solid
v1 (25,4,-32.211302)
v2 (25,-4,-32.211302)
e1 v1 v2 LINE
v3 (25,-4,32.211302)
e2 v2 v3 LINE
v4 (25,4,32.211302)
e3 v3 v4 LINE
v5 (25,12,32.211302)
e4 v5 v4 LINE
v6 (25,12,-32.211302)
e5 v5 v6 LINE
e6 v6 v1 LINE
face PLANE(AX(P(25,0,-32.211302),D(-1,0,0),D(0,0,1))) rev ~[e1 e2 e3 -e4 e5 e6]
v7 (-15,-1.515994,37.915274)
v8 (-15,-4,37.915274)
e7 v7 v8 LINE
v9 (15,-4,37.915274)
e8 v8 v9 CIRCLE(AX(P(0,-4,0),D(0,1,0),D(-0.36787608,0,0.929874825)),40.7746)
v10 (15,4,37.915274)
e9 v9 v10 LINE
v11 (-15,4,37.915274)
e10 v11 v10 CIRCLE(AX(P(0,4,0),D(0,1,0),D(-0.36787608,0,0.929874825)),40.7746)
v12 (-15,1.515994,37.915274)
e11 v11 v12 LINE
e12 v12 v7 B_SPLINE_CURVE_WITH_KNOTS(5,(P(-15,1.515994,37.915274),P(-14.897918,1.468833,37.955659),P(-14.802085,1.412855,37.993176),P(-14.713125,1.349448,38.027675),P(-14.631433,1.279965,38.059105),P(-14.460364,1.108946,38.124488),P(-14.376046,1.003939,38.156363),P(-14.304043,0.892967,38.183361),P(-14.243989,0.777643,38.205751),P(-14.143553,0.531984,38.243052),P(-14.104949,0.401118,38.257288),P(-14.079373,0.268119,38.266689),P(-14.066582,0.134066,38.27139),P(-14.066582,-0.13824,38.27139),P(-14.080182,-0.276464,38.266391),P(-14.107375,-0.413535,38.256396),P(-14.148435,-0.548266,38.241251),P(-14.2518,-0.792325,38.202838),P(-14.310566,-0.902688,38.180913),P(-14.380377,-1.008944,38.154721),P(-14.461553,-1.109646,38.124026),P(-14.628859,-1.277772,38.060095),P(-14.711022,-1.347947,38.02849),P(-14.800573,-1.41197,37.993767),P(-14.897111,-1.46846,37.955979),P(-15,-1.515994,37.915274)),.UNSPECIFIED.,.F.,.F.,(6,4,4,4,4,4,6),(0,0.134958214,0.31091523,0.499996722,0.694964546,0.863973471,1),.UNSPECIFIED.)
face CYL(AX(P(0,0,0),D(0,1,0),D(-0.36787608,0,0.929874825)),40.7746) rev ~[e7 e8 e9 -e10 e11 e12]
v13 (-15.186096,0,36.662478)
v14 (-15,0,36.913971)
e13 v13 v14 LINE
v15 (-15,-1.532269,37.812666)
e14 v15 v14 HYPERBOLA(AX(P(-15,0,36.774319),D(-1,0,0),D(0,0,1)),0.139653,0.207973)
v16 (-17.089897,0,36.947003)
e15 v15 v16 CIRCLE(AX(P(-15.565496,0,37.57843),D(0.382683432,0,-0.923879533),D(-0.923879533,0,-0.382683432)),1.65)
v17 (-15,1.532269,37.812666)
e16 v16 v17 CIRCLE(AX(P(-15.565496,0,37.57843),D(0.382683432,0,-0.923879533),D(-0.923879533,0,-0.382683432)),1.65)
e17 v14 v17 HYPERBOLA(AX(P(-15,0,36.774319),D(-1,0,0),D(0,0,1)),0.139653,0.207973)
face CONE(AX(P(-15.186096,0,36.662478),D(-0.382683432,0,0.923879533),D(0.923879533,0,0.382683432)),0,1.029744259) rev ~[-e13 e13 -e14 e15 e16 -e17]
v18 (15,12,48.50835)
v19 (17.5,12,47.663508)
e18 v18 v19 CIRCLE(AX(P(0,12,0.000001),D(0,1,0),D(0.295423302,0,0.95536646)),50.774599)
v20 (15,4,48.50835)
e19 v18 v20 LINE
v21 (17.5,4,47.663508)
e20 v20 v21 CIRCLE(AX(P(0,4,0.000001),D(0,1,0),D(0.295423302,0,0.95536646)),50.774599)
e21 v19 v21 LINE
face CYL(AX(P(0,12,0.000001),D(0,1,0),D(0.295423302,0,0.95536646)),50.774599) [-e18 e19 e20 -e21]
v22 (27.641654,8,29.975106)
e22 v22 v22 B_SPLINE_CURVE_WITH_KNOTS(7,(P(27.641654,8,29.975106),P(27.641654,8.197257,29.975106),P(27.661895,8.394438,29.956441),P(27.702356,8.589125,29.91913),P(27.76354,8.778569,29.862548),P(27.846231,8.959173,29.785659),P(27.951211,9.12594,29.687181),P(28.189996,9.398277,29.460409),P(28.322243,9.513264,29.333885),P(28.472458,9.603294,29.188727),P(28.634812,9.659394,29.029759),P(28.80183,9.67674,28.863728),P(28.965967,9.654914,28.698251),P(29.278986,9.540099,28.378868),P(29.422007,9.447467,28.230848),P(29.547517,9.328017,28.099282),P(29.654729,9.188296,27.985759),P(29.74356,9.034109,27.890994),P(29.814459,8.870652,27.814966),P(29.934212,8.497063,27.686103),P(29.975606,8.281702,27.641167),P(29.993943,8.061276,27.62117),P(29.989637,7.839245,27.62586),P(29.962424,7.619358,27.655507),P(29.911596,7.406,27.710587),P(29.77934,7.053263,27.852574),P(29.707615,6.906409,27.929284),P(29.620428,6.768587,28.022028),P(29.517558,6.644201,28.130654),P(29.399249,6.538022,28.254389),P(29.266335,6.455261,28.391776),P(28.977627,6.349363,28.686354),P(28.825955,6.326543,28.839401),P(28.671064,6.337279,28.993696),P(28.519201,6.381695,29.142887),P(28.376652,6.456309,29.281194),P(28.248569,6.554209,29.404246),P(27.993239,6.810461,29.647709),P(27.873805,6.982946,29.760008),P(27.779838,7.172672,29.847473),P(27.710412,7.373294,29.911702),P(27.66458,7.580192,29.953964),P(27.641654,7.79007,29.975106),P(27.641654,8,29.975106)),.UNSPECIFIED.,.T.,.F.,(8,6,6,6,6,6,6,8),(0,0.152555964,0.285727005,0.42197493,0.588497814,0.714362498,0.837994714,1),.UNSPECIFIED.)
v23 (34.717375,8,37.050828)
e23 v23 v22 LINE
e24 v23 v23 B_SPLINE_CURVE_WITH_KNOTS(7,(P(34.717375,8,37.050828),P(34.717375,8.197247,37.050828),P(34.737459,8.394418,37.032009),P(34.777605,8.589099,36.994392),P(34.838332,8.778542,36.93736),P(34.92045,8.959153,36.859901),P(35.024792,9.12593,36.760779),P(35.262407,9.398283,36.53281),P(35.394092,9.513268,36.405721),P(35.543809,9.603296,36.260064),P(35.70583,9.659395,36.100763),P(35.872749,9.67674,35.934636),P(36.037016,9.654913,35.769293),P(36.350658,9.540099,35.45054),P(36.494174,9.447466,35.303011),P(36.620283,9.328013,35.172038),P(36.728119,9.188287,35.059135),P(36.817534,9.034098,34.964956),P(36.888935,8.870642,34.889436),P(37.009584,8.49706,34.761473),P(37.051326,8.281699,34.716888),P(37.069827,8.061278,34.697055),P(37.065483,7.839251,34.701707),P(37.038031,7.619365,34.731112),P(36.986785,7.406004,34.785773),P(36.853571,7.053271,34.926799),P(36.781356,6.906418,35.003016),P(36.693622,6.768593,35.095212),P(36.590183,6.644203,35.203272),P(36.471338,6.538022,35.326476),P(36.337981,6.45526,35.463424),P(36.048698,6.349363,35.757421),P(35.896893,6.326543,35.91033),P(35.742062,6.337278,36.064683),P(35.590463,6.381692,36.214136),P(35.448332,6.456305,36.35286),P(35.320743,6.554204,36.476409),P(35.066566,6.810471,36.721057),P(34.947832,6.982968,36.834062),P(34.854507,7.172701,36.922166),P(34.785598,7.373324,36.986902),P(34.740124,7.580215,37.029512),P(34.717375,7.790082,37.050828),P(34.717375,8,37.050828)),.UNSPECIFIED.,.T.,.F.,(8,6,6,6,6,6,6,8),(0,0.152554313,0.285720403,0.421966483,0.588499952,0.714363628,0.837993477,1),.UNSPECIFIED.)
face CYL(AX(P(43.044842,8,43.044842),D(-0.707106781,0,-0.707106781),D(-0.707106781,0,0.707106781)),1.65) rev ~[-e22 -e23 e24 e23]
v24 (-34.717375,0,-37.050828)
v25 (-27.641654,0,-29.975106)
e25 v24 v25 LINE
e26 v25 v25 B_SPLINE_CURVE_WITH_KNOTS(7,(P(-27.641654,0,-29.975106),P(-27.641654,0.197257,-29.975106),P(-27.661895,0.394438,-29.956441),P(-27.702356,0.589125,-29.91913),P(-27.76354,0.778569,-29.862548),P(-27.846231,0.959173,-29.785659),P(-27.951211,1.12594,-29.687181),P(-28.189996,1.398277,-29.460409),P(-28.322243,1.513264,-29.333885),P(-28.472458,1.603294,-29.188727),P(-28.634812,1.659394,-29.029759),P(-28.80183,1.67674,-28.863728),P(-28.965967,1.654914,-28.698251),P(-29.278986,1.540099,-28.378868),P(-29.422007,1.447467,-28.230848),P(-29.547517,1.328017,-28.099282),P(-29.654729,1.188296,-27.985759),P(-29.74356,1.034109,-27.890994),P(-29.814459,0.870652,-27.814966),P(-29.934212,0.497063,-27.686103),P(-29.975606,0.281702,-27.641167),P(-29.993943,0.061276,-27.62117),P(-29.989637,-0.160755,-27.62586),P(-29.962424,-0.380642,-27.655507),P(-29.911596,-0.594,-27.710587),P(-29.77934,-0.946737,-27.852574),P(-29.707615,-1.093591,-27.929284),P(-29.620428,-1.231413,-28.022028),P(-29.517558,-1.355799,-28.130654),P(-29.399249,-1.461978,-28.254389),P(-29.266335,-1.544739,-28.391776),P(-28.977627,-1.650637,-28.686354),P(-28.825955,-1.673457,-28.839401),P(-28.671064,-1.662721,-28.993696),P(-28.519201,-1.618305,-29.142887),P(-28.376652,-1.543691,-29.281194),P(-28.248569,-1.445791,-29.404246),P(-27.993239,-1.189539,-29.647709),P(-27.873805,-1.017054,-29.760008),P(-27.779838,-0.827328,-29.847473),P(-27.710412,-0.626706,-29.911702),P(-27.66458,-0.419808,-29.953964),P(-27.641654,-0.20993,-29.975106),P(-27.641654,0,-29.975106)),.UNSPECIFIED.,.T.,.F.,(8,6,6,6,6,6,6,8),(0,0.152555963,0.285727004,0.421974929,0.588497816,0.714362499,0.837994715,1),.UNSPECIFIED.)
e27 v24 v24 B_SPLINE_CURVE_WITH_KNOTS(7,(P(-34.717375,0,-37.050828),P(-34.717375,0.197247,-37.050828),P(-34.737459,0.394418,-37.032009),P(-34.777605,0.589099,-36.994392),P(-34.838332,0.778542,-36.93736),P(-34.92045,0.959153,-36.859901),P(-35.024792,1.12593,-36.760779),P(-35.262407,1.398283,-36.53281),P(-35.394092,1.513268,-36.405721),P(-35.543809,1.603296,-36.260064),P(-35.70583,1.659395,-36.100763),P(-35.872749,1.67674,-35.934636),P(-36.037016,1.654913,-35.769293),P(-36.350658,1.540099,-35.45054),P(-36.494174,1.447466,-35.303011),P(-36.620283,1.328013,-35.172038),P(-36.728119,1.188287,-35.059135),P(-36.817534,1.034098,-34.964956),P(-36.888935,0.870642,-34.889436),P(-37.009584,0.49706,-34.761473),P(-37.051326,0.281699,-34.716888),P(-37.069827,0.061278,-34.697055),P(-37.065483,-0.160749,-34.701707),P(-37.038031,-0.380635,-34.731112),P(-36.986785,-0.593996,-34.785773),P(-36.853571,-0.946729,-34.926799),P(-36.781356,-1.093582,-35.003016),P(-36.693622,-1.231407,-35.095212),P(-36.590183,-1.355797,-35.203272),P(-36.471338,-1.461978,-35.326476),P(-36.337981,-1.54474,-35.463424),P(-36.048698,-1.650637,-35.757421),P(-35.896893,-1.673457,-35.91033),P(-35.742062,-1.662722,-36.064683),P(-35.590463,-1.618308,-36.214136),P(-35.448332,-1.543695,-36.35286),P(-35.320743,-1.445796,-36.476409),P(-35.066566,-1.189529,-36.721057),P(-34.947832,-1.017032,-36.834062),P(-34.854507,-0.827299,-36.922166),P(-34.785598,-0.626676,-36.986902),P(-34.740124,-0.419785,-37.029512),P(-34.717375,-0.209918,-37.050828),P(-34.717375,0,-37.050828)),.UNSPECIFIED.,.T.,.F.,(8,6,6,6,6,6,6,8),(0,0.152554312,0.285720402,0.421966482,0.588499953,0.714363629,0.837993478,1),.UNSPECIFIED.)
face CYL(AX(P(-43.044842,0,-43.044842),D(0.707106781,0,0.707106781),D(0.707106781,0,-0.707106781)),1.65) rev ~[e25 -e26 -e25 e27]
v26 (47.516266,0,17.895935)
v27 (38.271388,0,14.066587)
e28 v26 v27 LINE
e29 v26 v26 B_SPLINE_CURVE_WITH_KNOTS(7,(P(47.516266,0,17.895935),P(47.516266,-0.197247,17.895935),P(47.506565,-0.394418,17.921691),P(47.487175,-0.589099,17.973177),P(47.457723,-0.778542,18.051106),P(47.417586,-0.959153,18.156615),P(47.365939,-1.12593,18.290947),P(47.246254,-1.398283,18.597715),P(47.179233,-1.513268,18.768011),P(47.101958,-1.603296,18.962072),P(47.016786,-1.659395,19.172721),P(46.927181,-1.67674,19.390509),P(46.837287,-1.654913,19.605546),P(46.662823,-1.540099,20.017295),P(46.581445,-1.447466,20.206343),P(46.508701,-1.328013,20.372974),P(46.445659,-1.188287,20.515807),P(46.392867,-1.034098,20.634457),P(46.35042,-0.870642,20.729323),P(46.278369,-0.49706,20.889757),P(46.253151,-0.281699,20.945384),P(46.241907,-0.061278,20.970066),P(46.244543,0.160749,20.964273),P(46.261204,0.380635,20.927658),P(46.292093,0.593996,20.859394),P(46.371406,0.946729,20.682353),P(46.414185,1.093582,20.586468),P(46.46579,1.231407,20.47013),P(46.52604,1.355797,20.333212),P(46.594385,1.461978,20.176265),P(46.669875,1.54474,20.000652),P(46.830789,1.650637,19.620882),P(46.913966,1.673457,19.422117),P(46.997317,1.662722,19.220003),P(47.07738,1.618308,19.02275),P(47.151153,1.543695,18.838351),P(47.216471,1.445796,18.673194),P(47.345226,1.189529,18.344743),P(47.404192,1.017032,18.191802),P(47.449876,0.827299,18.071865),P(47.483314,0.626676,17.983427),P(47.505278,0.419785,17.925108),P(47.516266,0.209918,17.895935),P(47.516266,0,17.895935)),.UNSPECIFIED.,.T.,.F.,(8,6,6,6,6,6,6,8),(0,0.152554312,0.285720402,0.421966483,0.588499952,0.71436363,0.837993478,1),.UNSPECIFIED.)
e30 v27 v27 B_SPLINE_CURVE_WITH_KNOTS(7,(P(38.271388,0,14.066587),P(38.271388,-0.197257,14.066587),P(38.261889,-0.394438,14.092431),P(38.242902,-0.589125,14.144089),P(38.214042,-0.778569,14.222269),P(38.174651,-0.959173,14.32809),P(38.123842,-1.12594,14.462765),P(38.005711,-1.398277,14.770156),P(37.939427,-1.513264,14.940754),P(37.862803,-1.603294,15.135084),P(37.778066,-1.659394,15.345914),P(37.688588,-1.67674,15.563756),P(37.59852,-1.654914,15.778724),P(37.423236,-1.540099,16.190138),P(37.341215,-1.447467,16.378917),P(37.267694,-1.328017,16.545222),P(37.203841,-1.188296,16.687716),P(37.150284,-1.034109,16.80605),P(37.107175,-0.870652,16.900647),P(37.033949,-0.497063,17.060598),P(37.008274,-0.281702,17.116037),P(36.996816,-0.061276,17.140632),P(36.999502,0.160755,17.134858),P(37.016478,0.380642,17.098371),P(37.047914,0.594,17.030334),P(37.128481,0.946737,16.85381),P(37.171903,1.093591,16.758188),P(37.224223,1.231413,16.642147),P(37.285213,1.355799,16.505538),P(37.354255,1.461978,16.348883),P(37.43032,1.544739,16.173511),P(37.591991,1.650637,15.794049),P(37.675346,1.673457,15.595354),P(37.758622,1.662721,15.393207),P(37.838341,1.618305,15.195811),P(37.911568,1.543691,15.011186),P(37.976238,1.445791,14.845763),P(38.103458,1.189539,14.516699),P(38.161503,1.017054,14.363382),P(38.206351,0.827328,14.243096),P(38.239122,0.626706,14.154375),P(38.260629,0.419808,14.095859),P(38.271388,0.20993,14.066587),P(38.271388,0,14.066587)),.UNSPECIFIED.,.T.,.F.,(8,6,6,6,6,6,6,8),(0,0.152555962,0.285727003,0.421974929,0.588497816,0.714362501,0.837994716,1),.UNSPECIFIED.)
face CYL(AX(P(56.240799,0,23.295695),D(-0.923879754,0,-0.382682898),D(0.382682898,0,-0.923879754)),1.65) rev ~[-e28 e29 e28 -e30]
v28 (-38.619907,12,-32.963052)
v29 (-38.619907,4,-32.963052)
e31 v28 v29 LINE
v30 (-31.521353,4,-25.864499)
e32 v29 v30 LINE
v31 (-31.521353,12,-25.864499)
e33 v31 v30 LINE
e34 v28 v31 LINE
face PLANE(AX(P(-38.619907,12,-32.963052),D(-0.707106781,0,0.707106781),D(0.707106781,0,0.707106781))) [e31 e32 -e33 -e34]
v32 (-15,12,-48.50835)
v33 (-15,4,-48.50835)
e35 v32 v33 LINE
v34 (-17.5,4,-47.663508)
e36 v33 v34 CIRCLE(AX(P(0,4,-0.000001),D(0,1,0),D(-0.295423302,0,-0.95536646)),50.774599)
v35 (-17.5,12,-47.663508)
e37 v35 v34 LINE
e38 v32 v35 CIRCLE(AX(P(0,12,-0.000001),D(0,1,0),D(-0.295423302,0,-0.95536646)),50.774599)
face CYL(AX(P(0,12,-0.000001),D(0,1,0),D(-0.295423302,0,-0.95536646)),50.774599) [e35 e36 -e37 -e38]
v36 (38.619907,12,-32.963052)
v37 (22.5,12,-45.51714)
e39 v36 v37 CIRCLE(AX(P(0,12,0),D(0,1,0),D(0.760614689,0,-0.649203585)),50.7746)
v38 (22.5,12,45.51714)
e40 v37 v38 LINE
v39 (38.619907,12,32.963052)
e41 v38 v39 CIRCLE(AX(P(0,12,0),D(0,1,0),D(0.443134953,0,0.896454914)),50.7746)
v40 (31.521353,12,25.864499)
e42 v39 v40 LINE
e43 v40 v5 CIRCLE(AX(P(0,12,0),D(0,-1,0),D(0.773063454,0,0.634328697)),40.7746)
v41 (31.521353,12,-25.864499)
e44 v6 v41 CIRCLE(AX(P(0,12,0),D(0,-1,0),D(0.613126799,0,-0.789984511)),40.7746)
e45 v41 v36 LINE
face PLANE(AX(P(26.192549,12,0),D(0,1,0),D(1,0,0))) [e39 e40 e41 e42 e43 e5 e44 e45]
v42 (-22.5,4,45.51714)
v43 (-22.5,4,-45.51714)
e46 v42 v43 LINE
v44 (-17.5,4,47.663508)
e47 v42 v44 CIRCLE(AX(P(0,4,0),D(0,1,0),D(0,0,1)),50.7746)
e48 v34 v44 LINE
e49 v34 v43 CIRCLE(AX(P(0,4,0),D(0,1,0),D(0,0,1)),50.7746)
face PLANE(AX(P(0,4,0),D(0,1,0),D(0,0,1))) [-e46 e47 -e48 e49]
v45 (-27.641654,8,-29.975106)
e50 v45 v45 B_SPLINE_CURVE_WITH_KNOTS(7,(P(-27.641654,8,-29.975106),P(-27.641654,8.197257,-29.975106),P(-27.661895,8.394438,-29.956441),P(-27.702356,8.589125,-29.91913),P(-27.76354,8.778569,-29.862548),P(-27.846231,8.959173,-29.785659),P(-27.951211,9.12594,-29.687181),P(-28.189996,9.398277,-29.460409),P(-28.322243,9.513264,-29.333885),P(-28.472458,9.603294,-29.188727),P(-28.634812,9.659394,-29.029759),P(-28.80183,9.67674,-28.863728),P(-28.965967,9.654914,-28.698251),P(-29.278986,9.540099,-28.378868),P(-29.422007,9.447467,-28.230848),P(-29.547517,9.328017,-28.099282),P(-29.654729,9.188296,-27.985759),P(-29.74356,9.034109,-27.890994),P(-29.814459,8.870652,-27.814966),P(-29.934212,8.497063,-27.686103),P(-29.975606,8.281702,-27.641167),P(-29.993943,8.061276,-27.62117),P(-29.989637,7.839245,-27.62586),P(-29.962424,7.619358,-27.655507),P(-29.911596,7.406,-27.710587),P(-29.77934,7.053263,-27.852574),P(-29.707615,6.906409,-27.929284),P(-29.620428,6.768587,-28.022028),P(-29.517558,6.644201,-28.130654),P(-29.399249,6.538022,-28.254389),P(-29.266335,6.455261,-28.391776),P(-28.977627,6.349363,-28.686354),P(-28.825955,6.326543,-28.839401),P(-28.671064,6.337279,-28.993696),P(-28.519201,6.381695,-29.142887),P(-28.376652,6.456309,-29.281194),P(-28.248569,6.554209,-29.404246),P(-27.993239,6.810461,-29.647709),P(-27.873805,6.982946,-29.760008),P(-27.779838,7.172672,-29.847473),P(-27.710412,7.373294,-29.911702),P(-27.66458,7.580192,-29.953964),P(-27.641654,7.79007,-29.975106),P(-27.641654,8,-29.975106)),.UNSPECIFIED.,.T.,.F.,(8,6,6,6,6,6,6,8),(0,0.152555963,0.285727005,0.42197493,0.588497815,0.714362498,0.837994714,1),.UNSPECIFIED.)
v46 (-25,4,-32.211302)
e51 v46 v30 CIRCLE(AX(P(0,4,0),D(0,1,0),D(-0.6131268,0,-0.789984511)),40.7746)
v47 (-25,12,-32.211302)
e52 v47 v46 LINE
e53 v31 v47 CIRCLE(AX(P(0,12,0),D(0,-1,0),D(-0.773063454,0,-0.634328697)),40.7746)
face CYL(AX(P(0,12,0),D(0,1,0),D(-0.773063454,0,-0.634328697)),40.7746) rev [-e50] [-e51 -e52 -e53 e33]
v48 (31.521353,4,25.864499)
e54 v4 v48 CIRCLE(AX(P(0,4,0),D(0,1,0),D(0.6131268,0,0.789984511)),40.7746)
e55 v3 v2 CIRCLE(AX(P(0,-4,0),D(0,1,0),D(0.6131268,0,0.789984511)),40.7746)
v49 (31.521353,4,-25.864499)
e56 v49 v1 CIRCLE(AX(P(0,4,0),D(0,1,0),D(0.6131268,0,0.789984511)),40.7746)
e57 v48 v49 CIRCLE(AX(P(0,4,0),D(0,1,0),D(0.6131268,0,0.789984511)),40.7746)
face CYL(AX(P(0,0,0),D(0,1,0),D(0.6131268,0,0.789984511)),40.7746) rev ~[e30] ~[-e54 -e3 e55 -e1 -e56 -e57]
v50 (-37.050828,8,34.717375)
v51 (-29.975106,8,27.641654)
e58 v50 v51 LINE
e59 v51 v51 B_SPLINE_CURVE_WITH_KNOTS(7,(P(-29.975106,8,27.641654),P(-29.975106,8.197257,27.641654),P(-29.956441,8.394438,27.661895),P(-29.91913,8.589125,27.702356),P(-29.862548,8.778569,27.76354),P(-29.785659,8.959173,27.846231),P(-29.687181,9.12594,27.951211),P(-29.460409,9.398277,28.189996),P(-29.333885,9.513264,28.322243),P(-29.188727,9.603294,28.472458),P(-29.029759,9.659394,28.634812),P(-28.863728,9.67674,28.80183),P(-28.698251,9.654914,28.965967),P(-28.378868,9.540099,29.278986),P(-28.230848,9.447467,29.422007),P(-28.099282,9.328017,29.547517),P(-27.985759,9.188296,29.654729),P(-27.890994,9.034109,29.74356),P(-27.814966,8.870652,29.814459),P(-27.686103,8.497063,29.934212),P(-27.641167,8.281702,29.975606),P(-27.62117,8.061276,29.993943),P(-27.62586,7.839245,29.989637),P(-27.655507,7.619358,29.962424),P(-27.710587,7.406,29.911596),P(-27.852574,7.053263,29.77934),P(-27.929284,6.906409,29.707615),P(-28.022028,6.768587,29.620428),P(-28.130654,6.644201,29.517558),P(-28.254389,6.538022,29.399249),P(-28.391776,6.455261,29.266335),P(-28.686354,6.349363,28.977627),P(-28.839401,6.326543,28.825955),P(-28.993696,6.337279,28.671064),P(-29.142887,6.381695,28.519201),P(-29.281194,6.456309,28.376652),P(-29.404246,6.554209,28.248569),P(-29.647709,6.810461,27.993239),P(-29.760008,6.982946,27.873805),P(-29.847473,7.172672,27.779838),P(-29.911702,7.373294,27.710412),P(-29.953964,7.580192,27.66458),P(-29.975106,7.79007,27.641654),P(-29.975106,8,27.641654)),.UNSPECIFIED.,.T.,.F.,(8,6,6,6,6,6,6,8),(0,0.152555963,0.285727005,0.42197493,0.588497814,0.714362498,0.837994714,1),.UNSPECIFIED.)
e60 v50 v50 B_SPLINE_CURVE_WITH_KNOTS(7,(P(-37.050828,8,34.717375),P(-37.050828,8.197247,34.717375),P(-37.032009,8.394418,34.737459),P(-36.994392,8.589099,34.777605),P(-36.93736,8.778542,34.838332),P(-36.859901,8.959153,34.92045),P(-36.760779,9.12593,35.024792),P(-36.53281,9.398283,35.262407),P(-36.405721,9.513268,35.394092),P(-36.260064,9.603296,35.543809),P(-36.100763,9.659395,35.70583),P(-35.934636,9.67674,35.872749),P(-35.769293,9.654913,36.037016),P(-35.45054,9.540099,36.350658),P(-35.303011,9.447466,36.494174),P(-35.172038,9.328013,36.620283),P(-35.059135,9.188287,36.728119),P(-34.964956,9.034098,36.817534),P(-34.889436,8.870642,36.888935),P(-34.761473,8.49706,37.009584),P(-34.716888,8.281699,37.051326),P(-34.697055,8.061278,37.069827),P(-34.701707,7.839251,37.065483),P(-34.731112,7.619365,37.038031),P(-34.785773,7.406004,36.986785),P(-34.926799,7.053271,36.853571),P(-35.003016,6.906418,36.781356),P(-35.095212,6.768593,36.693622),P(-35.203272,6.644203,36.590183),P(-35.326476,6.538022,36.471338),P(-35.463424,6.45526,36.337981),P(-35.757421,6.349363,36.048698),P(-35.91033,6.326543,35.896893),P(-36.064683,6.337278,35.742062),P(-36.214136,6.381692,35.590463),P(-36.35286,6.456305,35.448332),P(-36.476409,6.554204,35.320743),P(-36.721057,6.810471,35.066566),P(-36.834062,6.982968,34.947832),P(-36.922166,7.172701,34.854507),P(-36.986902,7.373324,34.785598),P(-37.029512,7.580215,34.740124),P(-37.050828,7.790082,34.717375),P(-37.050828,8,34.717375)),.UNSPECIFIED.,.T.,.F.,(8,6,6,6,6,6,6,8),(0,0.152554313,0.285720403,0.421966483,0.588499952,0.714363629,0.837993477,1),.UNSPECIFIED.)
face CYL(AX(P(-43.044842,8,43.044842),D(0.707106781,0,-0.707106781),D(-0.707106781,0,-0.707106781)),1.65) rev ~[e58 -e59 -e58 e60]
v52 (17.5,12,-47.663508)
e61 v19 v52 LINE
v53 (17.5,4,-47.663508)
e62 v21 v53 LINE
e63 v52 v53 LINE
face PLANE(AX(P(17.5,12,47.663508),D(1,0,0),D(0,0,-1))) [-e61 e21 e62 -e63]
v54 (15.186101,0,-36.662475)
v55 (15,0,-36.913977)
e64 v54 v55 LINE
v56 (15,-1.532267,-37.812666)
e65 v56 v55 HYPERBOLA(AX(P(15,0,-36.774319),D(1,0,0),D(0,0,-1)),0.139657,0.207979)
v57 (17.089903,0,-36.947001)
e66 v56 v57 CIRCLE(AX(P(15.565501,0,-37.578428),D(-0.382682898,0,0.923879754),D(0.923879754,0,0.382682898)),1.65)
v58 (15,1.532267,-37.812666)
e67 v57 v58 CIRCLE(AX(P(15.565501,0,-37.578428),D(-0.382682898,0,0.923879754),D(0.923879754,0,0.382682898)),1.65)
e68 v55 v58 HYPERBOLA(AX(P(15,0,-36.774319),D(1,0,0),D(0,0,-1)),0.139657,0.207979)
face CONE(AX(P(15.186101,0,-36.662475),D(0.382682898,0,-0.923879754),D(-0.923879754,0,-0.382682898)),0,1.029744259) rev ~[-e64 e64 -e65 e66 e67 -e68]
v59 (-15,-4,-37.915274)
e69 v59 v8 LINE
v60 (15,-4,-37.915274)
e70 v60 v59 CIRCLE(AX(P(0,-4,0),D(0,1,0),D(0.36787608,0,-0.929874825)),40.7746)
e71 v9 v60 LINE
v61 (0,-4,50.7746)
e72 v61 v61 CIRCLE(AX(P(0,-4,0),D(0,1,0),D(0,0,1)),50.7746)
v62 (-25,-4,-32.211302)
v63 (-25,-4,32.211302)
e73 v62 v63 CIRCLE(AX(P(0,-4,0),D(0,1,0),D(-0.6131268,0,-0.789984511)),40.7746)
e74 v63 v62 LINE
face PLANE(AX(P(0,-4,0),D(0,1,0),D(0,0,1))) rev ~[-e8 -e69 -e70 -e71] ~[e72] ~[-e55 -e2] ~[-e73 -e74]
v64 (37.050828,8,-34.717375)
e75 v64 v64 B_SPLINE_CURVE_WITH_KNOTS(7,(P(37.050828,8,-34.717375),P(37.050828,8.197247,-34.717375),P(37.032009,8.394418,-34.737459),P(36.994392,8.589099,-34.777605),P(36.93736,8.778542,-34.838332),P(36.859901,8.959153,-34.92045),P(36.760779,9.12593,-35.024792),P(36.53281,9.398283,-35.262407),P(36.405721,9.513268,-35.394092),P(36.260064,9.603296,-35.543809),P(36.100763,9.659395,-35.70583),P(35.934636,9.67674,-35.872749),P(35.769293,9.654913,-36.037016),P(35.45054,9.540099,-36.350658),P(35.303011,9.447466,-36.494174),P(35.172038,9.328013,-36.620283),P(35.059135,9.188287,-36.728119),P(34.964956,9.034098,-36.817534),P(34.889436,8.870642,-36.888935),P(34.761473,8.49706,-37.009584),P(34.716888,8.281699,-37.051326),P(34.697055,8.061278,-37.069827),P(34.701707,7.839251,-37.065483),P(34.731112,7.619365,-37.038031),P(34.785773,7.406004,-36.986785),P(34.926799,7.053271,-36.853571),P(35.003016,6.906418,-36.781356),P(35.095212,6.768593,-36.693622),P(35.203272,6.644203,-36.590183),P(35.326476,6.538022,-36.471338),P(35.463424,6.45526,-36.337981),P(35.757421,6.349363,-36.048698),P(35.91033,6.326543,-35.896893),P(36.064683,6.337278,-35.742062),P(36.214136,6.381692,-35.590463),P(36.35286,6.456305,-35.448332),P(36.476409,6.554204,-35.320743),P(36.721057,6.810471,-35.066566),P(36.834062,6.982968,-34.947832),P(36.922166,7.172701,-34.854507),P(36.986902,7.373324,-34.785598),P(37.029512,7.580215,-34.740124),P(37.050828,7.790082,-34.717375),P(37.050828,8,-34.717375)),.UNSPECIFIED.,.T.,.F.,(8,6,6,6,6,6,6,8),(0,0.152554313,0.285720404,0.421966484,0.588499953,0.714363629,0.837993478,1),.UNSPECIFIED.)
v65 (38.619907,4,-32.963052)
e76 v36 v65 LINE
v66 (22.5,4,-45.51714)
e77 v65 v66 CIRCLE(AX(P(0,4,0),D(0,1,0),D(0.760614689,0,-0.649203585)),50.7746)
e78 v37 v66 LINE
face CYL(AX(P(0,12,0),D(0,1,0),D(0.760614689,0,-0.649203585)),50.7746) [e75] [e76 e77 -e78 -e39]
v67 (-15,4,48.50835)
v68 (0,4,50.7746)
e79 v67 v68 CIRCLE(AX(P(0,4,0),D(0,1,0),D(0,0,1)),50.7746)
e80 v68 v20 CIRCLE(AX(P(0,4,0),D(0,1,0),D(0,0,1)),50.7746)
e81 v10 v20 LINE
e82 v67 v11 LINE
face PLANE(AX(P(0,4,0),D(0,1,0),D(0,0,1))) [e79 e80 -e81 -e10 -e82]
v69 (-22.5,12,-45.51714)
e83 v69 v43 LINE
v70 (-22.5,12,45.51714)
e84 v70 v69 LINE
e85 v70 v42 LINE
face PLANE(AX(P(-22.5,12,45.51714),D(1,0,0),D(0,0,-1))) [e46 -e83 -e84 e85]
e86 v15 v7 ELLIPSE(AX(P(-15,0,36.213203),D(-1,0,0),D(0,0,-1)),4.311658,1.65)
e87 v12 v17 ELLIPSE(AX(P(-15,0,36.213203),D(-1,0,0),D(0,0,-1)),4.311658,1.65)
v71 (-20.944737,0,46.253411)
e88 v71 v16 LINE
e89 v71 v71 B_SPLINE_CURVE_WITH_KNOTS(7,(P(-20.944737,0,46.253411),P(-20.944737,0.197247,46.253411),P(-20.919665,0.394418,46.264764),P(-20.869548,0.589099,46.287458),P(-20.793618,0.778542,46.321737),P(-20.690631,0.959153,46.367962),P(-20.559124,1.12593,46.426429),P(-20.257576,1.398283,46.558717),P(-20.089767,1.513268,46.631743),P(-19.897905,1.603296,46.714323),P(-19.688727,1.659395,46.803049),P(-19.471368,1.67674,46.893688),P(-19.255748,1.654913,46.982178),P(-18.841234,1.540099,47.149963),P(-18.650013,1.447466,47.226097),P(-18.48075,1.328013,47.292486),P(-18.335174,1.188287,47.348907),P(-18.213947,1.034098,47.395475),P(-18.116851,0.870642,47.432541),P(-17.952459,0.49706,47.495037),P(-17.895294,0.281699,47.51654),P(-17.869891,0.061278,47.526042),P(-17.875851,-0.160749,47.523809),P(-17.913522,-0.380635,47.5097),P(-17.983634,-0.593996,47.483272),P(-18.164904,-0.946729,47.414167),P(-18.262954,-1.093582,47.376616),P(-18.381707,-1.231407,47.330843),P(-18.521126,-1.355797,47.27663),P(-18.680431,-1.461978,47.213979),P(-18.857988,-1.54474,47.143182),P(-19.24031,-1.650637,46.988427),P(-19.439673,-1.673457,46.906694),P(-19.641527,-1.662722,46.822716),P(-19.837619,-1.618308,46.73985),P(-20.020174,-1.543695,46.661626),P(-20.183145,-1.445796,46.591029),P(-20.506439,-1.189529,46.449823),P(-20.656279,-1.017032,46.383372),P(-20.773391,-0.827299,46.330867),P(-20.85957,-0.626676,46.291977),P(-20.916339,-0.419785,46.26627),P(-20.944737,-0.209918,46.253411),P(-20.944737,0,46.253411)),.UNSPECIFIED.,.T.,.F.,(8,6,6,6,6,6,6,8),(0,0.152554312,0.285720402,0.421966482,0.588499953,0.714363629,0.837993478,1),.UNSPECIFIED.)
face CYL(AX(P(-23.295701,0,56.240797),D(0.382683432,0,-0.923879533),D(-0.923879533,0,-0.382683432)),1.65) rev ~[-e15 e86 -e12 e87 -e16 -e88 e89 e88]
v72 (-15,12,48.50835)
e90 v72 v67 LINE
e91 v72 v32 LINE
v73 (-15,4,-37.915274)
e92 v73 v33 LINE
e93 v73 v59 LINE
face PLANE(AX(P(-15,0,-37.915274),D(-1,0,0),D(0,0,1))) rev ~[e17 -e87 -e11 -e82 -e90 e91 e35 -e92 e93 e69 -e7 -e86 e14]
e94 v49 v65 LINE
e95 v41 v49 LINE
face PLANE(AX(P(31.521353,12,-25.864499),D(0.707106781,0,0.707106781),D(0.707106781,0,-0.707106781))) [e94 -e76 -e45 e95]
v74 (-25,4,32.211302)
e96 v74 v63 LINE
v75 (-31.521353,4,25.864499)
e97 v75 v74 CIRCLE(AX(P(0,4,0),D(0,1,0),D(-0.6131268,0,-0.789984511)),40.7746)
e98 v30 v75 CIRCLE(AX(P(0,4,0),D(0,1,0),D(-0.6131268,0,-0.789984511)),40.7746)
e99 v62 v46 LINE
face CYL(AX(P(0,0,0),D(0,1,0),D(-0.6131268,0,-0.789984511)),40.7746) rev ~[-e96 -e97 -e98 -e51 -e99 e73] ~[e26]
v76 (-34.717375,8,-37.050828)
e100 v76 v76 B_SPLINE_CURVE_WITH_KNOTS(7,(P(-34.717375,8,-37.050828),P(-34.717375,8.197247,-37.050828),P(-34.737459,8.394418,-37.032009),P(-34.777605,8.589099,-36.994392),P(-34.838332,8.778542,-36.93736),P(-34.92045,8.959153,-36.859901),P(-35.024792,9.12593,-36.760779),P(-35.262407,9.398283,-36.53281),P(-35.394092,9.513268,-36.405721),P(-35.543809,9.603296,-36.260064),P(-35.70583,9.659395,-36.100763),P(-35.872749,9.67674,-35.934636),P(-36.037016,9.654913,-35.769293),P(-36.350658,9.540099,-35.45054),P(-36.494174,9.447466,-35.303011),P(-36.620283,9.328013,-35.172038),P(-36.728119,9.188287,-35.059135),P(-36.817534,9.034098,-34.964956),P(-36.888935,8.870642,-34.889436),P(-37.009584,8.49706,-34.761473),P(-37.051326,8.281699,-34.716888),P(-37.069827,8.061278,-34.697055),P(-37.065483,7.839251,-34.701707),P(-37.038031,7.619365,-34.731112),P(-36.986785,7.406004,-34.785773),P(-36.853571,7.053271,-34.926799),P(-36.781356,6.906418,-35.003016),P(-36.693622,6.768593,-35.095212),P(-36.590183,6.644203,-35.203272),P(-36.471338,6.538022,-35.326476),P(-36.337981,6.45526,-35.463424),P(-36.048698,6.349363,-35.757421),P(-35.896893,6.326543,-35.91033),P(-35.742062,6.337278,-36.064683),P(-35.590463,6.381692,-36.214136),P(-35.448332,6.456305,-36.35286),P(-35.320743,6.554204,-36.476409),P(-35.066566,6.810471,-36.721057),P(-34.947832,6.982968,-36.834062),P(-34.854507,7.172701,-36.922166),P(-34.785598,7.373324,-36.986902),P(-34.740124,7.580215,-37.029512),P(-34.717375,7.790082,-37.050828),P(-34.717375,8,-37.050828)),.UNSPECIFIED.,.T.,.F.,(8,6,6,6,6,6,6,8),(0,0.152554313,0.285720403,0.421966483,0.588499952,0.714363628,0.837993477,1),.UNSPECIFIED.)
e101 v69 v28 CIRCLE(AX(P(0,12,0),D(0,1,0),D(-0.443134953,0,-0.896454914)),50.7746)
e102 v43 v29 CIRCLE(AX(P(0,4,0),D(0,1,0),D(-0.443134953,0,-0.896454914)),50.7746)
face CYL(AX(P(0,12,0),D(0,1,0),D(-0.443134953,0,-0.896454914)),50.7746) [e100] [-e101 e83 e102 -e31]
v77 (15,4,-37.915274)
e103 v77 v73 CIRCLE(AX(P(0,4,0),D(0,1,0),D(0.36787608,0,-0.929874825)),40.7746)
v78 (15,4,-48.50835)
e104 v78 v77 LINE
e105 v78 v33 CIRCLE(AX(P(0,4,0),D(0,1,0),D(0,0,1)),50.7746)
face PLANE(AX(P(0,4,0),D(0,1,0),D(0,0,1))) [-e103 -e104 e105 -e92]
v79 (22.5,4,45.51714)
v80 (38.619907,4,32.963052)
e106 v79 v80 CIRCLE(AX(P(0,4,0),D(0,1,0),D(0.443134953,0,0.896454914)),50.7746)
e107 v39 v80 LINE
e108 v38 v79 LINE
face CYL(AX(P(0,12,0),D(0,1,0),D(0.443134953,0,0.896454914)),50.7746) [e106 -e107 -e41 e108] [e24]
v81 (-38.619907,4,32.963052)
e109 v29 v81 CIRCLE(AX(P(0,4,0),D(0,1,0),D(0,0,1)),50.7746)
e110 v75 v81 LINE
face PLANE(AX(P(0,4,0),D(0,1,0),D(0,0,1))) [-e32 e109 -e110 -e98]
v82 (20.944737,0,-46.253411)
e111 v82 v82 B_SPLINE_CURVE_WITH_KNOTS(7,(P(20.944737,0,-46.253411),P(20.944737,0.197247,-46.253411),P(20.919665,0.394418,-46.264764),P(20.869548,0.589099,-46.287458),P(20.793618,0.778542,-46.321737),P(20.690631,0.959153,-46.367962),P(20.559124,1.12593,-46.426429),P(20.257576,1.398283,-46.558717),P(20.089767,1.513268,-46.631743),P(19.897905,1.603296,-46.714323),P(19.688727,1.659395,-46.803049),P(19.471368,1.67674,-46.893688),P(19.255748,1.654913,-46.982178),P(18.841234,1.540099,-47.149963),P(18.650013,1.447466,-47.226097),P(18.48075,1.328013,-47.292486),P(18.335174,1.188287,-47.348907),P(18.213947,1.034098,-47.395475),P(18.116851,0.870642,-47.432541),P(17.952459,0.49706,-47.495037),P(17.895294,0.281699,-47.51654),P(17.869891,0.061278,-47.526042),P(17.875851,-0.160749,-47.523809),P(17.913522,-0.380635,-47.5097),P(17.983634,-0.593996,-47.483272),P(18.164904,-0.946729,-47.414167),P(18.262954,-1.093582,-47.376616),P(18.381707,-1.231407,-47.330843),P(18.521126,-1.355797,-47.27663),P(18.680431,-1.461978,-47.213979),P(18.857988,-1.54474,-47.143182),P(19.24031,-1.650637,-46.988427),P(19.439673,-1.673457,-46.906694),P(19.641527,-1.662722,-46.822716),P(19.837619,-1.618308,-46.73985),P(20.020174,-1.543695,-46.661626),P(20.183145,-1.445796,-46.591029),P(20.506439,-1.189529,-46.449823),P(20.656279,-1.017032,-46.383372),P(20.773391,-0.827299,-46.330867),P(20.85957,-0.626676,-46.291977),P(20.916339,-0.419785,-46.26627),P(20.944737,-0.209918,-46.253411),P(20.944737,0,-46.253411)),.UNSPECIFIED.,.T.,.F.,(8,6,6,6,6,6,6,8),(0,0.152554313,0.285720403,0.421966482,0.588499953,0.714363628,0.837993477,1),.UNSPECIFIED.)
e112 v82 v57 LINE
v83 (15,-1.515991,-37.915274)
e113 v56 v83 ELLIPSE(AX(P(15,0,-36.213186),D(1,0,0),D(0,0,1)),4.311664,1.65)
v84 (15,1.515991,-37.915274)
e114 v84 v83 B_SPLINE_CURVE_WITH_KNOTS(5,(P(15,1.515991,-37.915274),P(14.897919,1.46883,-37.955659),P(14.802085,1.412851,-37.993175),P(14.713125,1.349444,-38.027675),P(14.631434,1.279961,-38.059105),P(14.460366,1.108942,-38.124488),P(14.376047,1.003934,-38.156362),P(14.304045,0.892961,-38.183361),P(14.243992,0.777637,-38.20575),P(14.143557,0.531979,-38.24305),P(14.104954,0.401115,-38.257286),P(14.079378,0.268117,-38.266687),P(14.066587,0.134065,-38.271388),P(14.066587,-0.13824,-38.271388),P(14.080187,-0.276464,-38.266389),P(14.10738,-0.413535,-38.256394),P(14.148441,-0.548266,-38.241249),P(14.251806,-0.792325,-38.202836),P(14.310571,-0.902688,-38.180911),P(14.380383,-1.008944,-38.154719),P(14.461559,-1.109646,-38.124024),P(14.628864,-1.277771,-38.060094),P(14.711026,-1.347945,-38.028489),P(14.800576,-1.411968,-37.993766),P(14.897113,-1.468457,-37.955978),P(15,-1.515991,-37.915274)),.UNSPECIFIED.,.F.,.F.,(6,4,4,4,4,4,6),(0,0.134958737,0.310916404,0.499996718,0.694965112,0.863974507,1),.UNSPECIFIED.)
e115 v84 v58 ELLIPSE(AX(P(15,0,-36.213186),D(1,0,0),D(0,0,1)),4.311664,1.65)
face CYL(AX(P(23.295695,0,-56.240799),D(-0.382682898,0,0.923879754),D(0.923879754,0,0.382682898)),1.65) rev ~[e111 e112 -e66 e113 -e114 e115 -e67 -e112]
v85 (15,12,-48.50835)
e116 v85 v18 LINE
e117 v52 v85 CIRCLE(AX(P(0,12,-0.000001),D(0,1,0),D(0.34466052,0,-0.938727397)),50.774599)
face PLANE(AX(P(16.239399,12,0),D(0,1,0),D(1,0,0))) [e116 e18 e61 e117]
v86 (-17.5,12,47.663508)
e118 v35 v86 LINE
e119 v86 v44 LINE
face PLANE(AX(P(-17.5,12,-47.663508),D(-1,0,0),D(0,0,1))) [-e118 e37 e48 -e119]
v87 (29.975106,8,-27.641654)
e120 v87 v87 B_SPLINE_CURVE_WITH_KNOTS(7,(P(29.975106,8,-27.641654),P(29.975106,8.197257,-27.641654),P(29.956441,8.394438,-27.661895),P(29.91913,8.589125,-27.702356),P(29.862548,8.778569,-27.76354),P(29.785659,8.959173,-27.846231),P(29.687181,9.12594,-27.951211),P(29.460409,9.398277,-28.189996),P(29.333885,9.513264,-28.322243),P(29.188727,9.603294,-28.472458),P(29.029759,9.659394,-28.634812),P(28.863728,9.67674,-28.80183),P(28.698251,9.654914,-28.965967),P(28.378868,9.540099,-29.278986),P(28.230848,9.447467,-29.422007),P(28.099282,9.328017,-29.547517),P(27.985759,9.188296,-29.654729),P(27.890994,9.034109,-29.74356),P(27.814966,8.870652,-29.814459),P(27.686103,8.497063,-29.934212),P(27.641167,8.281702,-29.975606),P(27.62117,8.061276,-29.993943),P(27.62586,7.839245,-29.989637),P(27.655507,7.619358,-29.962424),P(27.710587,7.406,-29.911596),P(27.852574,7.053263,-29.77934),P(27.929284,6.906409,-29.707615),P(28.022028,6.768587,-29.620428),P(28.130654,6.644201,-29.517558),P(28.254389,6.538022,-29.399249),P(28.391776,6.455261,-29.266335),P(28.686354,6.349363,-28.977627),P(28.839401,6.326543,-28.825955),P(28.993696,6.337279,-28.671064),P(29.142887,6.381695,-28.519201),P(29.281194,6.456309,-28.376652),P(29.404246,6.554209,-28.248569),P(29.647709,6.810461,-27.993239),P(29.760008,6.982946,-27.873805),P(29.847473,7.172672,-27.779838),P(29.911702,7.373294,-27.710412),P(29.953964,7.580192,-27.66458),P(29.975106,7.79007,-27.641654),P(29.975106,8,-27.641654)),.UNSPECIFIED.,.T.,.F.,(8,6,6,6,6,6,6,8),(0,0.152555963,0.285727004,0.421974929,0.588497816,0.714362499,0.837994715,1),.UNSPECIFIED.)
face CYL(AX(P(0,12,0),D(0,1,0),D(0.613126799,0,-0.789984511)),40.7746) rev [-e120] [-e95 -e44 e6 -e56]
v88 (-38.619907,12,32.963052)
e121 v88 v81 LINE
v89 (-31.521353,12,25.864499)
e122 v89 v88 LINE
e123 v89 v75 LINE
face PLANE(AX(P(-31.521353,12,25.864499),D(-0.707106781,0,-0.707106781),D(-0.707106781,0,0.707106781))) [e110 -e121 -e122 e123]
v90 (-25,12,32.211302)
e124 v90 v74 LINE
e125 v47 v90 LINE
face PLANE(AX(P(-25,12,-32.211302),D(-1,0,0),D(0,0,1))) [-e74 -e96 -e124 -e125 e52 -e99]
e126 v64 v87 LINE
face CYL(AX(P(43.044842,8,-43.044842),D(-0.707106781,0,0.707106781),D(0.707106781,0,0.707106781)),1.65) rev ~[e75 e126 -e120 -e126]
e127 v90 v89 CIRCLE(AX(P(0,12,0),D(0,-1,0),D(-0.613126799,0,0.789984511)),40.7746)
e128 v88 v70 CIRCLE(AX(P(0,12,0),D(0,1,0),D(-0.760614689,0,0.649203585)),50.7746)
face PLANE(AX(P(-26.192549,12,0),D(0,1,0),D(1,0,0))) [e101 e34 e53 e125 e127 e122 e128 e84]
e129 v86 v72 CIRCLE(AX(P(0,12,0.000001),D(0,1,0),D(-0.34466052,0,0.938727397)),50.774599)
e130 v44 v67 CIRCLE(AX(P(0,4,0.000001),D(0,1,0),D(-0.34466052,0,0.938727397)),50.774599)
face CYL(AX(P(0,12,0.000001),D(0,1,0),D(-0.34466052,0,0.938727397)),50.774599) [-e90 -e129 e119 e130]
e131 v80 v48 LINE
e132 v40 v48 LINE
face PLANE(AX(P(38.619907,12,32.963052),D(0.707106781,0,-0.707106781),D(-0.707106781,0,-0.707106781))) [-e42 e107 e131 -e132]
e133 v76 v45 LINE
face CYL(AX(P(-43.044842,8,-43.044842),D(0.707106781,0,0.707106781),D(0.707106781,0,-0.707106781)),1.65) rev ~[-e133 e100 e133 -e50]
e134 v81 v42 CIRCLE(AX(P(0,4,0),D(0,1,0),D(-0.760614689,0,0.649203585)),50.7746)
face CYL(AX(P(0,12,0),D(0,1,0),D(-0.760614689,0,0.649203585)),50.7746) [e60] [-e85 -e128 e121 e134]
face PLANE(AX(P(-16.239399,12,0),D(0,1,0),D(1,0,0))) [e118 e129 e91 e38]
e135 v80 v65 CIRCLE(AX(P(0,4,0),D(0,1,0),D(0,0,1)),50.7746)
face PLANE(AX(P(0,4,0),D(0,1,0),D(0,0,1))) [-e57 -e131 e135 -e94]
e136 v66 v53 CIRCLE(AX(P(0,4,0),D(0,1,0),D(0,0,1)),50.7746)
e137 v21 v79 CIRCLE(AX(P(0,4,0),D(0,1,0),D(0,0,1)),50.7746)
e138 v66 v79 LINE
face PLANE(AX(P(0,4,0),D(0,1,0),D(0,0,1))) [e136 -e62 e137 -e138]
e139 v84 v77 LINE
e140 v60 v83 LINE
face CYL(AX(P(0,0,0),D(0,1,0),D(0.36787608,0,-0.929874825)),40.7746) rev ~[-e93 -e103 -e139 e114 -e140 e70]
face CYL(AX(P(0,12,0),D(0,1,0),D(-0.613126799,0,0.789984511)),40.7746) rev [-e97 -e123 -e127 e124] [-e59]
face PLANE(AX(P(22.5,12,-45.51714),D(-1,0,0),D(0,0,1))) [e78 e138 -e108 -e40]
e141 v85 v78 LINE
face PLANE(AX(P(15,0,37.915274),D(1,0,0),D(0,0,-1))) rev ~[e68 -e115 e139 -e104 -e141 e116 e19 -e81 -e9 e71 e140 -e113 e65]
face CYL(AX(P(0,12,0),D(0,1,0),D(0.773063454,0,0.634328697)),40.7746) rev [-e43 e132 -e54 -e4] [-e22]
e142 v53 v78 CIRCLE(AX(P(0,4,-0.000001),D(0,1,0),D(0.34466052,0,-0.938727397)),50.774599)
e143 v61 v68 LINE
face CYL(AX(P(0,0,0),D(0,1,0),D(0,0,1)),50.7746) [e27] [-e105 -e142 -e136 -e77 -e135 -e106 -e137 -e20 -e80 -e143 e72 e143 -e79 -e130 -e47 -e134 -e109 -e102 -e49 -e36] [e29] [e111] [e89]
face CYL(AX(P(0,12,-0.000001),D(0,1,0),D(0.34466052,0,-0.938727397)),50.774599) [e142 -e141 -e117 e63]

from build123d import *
from build123d.topology import SkipClean

# Parameters (mm, degrees)
SKETCH1_R                       = 50.7746
BOSS_EXTRUDE1_DEPTH             = 4
BOSS_EXTRUDE2_START             = 8
BOSS_EXTRUDE2_DEPTH             = 8
M4_TAPPED_HOLE1_D               = 3.3
M4_TAPPED_HOLE1_DEPTH           = 10.1
M4_TAPPED_HOLE1_TIP             = 0.991420021
M4_TAPPED_HOLE1_ON_FACE_2_D     = 3.3
M4_TAPPED_HOLE1_ON_FACE_2_DEPTH = 10.1
M4_TAPPED_HOLE1_ON_FACE_2_TIP   = 0.991420021
M4_TAPPED_HOLE1_ON_FACE_3_D     = 3.3
M4_TAPPED_HOLE1_ON_FACE_3_DEPTH = 10.1
M4_TAPPED_HOLE1_ON_FACE_3_TIP   = 0.991420021
M4_TAPPED_HOLE1_ON_FACE_4_D     = 3.3
M4_TAPPED_HOLE1_ON_FACE_4_DEPTH = 10.1
M4_TAPPED_HOLE1_ON_FACE_4_TIP   = 0.991420021
M4_TAPPED_HOLE1_ON_FACE_5_D     = 3.3
M4_TAPPED_HOLE1_ON_FACE_5_DEPTH = 10.1
M4_TAPPED_HOLE1_ON_FACE_5_TIP   = 0.991420021
M4_TAPPED_HOLE1_ON_FACE_6_D     = 3.3
M4_TAPPED_HOLE1_ON_FACE_6_DEPTH = 10.1
M4_TAPPED_HOLE1_ON_FACE_6_TIP   = 0.991420021
M4_TAPPED_HOLE1_ON_FACE_7_D     = 3.3
M4_TAPPED_HOLE1_ON_FACE_7_DEPTH = 10.1
M4_TAPPED_HOLE1_ON_FACE_7_TIP   = 0.991420021
M4_TAPPED_HOLE1_ON_FACE_8_D     = 3.3
M4_TAPPED_HOLE1_ON_FACE_8_DEPTH = 10.1
M4_TAPPED_HOLE1_ON_FACE_8_TIP   = 0.991420021


with BuildPart() as part:
    # Sketch1 → Boss-Extrude1 (new, symmetric)
    with BuildSketch(Plane(origin=(0, 0, 0), x_dir=(1, 0, 0), z_dir=(0, 1, 0))):
        with Locations(Location((0, 0, 0), (0, 0, 270))):
            Circle(SKETCH1_R)
        with BuildLine():
            ThreePointArc((15, 37.915274035), (0, 40.7746), (-15, 37.915274035))
            Line((-15, 37.915274035), (-15, -37.915274035))
            ThreePointArc((-15, -37.915274035), (0, -40.7746), (15, -37.915274035))
            Line((15, -37.915274035), (15, 37.915274035))
        make_face(mode=Mode.SUBTRACT)
        with BuildLine():
            ThreePointArc((25, -32.211302444), (40.7746, 0), (25, 32.211302444))
            Line((25, 32.211302444), (25, -32.211302444))
        make_face(mode=Mode.SUBTRACT)
        with BuildLine():
            ThreePointArc((-25, 32.211302444), (-40.7746, 0), (-25, -32.211302444))
            Line((-25, -32.211302444), (-25, 32.211302444))
        make_face(mode=Mode.SUBTRACT)
    extrude(amount=BOSS_EXTRUDE1_DEPTH, both=True)

    # Sketch2 → Boss-Extrude2 (add)
    with SkipClean():  # the faces are left unmerged after this step: merging them gives an invalid solid
        with BuildSketch(Plane(origin=(0, 4, 0), x_dir=(1, 0, 0), z_dir=(0, 1, 0)).offset(BOSS_EXTRUDE2_START)):
            with BuildLine():
                Line((-22.5, -45.517139686), (-22.5, 45.517139686))
                ThreePointArc((-22.5, 45.517139686), (-31.197949015, 40.059305815), (-38.619906594, 32.963052344))
                Line((-38.619906594, 32.963052344), (-31.521353127, 25.864498878))
                ThreePointArc((-31.521353127, 25.864498878), (-28.438289659, 29.220398465), (-25, 32.211302444))
                Line((-25, 32.211302444), (-25, -32.211302444))
                ThreePointArc((-25, -32.211302444), (-28.438289659, -29.220398465), (-31.521353127, -25.864498878))
                Line((-31.521353127, -25.864498878), (-38.619906594, -32.963052344))
                ThreePointArc((-38.619906594, -32.963052344), (-31.197949015, -40.059305815), (-22.5, -45.517139686))
            make_face()
            with BuildLine():
                ThreePointArc((-15, 48.50834985), (-16.255489516, 48.102173192), (-17.5, 47.663508108))
                Line((-17.5, 47.663508108), (-17.5, -47.663508108))
                ThreePointArc((-17.5, -47.663508108), (-16.255489516, -48.102173192), (-15, -48.50834985))
                Line((-15, -48.50834985), (-15, 48.50834985))
            make_face()
            with BuildLine():
                ThreePointArc((17.5, 47.663508108), (16.255489516, 48.102173192), (15, 48.50834985))
                Line((15, 48.50834985), (15, -48.50834985))
                ThreePointArc((15, -48.50834985), (16.255489516, -48.102173192), (17.5, -47.663508108))
                Line((17.5, -47.663508108), (17.5, 47.663508108))
            make_face()
            with BuildLine():
                ThreePointArc((38.619906594, 32.963052344), (31.197949015, 40.059305815), (22.5, 45.517139686))
                Line((22.5, 45.517139686), (22.5, -45.517139686))
                ThreePointArc((22.5, -45.517139686), (31.197949015, -40.059305815), (38.619906594, -32.963052344))
                Line((38.619906594, -32.963052344), (31.521353127, -25.864498878))
                ThreePointArc((31.521353127, -25.864498878), (28.438289659, -29.220398465), (25, -32.211302444))
                Line((25, -32.211302444), (25, 32.211302444))
                ThreePointArc((25, 32.211302444), (28.438289659, 29.220398465), (31.521353127, 25.864498878))
                Line((31.521353127, 25.864498878), (38.619906594, 32.963052344))
            make_face()
        extrude(amount=-BOSS_EXTRUDE2_DEPTH)

    # M4 Tapped Hole1
    with Locations(Plane(origin=(-19.430598205, 0, 46.909613711), x_dir=(0.923879532511, 0, 0.382683432365), z_dir=(-0.382683432365, 0, 0.923879532511))):
        with Locations((0, 0)):
            Hole(M4_TAPPED_HOLE1_D / 2, depth=M4_TAPPED_HOLE1_DEPTH)
            with Locations((0, 0, -(M4_TAPPED_HOLE1_DEPTH + M4_TAPPED_HOLE1_TIP / 2))):  # 118° drill point
                Cone(0, M4_TAPPED_HOLE1_D / 2, M4_TAPPED_HOLE1_TIP, mode=Mode.SUBTRACT)

    # M4 Tapped Hole1 on face 2
    with Locations(Plane(origin=(46.909613711, 0, 19.430598205), x_dir=(-0.382682898036, 0, 0.923879753837), z_dir=(0.923879753837, 0, 0.382682898036))):
        with Locations((0, 0)):
            Hole(M4_TAPPED_HOLE1_ON_FACE_2_D / 2, depth=M4_TAPPED_HOLE1_ON_FACE_2_DEPTH)
            with Locations((0, 0, -(M4_TAPPED_HOLE1_ON_FACE_2_DEPTH + M4_TAPPED_HOLE1_ON_FACE_2_TIP / 2))):  # 118° drill point
                Cone(0, M4_TAPPED_HOLE1_ON_FACE_2_D / 2, M4_TAPPED_HOLE1_ON_FACE_2_TIP, mode=Mode.SUBTRACT)

    # M4 Tapped Hole1 on face 3
    with Locations(Plane(origin=(-35.903063972, 0, -35.903063972), x_dir=(-0.707106781187, 0, 0.707106781187), z_dir=(-0.707106781187, 0, -0.707106781187))):
        with Locations((0, 0), (0, 8)):
            Hole(M4_TAPPED_HOLE1_ON_FACE_3_D / 2, depth=M4_TAPPED_HOLE1_ON_FACE_3_DEPTH)
            with Locations((0, 0, -(M4_TAPPED_HOLE1_ON_FACE_3_DEPTH + M4_TAPPED_HOLE1_ON_FACE_3_TIP / 2))):  # 118° drill point
                Cone(0, M4_TAPPED_HOLE1_ON_FACE_3_D / 2, M4_TAPPED_HOLE1_ON_FACE_3_TIP, mode=Mode.SUBTRACT)

    # M4 Tapped Hole1 on face 4
    with Locations(Plane(origin=(19.430598205, 0, -46.909613711), x_dir=(-0.923879753837, 0, -0.382682898036), z_dir=(0.382682898036, 0, -0.923879753837))):
        with Locations((0, 0)):
            Hole(M4_TAPPED_HOLE1_ON_FACE_4_D / 2, depth=M4_TAPPED_HOLE1_ON_FACE_4_DEPTH)
            with Locations((0, 0, -(M4_TAPPED_HOLE1_ON_FACE_4_DEPTH + M4_TAPPED_HOLE1_ON_FACE_4_TIP / 2))):  # 118° drill point
                Cone(0, M4_TAPPED_HOLE1_ON_FACE_4_D / 2, M4_TAPPED_HOLE1_ON_FACE_4_TIP, mode=Mode.SUBTRACT)

    # M4 Tapped Hole1 on face 5
    with Locations(Plane(origin=(0, 8, 0), x_dir=(0.923879532511, 0, 0.382683432365), z_dir=(-0.382683432365, 0, 0.923879532511))):
        with Locations((0, 0)):
            Hole(M4_TAPPED_HOLE1_ON_FACE_5_D / 2, depth=M4_TAPPED_HOLE1_ON_FACE_5_DEPTH)
            with Locations((0, 0, -(M4_TAPPED_HOLE1_ON_FACE_5_DEPTH + M4_TAPPED_HOLE1_ON_FACE_5_TIP / 2))):  # 118° drill point
                Cone(0, M4_TAPPED_HOLE1_ON_FACE_5_D / 2, M4_TAPPED_HOLE1_ON_FACE_5_TIP, mode=Mode.SUBTRACT)

    # M4 Tapped Hole1 on face 6
    with Locations(Plane(origin=(35.903063972, 8, 35.903063972), x_dir=(0.707106781187, 0, -0.707106781187), z_dir=(0.707106781187, 0, 0.707106781187))):
        with Locations((0, 0)):
            Hole(M4_TAPPED_HOLE1_ON_FACE_6_D / 2, depth=M4_TAPPED_HOLE1_ON_FACE_6_DEPTH)
            with Locations((0, 0, -(M4_TAPPED_HOLE1_ON_FACE_6_DEPTH + M4_TAPPED_HOLE1_ON_FACE_6_TIP / 2))):  # 118° drill point
                Cone(0, M4_TAPPED_HOLE1_ON_FACE_6_D / 2, M4_TAPPED_HOLE1_ON_FACE_6_TIP, mode=Mode.SUBTRACT)

    # M4 Tapped Hole1 on face 7
    with Locations(Plane(origin=(35.903063972, 8, -35.903063972), x_dir=(-0.707106781187, 0, -0.707106781187), z_dir=(0.707106781187, 0, -0.707106781187))):
        with Locations((0, 0)):
            Hole(M4_TAPPED_HOLE1_ON_FACE_7_D / 2, depth=M4_TAPPED_HOLE1_ON_FACE_7_DEPTH)
            with Locations((0, 0, -(M4_TAPPED_HOLE1_ON_FACE_7_DEPTH + M4_TAPPED_HOLE1_ON_FACE_7_TIP / 2))):  # 118° drill point
                Cone(0, M4_TAPPED_HOLE1_ON_FACE_7_D / 2, M4_TAPPED_HOLE1_ON_FACE_7_TIP, mode=Mode.SUBTRACT)

    # M4 Tapped Hole1 on face 8
    with Locations(Plane(origin=(-35.903063972, 8, 35.903063972), x_dir=(0.707106781187, 0, 0.707106781187), z_dir=(-0.707106781187, 0, 0.707106781187))):
        with Locations((0, 0)):
            Hole(M4_TAPPED_HOLE1_ON_FACE_8_D / 2, depth=M4_TAPPED_HOLE1_ON_FACE_8_DEPTH)
            with Locations((0, 0, -(M4_TAPPED_HOLE1_ON_FACE_8_DEPTH + M4_TAPPED_HOLE1_ON_FACE_8_TIP / 2))):  # 118° drill point
                Cone(0, M4_TAPPED_HOLE1_ON_FACE_8_D / 2, M4_TAPPED_HOLE1_ON_FACE_8_TIP, mode=Mode.SUBTRACT)


solid = part.part
